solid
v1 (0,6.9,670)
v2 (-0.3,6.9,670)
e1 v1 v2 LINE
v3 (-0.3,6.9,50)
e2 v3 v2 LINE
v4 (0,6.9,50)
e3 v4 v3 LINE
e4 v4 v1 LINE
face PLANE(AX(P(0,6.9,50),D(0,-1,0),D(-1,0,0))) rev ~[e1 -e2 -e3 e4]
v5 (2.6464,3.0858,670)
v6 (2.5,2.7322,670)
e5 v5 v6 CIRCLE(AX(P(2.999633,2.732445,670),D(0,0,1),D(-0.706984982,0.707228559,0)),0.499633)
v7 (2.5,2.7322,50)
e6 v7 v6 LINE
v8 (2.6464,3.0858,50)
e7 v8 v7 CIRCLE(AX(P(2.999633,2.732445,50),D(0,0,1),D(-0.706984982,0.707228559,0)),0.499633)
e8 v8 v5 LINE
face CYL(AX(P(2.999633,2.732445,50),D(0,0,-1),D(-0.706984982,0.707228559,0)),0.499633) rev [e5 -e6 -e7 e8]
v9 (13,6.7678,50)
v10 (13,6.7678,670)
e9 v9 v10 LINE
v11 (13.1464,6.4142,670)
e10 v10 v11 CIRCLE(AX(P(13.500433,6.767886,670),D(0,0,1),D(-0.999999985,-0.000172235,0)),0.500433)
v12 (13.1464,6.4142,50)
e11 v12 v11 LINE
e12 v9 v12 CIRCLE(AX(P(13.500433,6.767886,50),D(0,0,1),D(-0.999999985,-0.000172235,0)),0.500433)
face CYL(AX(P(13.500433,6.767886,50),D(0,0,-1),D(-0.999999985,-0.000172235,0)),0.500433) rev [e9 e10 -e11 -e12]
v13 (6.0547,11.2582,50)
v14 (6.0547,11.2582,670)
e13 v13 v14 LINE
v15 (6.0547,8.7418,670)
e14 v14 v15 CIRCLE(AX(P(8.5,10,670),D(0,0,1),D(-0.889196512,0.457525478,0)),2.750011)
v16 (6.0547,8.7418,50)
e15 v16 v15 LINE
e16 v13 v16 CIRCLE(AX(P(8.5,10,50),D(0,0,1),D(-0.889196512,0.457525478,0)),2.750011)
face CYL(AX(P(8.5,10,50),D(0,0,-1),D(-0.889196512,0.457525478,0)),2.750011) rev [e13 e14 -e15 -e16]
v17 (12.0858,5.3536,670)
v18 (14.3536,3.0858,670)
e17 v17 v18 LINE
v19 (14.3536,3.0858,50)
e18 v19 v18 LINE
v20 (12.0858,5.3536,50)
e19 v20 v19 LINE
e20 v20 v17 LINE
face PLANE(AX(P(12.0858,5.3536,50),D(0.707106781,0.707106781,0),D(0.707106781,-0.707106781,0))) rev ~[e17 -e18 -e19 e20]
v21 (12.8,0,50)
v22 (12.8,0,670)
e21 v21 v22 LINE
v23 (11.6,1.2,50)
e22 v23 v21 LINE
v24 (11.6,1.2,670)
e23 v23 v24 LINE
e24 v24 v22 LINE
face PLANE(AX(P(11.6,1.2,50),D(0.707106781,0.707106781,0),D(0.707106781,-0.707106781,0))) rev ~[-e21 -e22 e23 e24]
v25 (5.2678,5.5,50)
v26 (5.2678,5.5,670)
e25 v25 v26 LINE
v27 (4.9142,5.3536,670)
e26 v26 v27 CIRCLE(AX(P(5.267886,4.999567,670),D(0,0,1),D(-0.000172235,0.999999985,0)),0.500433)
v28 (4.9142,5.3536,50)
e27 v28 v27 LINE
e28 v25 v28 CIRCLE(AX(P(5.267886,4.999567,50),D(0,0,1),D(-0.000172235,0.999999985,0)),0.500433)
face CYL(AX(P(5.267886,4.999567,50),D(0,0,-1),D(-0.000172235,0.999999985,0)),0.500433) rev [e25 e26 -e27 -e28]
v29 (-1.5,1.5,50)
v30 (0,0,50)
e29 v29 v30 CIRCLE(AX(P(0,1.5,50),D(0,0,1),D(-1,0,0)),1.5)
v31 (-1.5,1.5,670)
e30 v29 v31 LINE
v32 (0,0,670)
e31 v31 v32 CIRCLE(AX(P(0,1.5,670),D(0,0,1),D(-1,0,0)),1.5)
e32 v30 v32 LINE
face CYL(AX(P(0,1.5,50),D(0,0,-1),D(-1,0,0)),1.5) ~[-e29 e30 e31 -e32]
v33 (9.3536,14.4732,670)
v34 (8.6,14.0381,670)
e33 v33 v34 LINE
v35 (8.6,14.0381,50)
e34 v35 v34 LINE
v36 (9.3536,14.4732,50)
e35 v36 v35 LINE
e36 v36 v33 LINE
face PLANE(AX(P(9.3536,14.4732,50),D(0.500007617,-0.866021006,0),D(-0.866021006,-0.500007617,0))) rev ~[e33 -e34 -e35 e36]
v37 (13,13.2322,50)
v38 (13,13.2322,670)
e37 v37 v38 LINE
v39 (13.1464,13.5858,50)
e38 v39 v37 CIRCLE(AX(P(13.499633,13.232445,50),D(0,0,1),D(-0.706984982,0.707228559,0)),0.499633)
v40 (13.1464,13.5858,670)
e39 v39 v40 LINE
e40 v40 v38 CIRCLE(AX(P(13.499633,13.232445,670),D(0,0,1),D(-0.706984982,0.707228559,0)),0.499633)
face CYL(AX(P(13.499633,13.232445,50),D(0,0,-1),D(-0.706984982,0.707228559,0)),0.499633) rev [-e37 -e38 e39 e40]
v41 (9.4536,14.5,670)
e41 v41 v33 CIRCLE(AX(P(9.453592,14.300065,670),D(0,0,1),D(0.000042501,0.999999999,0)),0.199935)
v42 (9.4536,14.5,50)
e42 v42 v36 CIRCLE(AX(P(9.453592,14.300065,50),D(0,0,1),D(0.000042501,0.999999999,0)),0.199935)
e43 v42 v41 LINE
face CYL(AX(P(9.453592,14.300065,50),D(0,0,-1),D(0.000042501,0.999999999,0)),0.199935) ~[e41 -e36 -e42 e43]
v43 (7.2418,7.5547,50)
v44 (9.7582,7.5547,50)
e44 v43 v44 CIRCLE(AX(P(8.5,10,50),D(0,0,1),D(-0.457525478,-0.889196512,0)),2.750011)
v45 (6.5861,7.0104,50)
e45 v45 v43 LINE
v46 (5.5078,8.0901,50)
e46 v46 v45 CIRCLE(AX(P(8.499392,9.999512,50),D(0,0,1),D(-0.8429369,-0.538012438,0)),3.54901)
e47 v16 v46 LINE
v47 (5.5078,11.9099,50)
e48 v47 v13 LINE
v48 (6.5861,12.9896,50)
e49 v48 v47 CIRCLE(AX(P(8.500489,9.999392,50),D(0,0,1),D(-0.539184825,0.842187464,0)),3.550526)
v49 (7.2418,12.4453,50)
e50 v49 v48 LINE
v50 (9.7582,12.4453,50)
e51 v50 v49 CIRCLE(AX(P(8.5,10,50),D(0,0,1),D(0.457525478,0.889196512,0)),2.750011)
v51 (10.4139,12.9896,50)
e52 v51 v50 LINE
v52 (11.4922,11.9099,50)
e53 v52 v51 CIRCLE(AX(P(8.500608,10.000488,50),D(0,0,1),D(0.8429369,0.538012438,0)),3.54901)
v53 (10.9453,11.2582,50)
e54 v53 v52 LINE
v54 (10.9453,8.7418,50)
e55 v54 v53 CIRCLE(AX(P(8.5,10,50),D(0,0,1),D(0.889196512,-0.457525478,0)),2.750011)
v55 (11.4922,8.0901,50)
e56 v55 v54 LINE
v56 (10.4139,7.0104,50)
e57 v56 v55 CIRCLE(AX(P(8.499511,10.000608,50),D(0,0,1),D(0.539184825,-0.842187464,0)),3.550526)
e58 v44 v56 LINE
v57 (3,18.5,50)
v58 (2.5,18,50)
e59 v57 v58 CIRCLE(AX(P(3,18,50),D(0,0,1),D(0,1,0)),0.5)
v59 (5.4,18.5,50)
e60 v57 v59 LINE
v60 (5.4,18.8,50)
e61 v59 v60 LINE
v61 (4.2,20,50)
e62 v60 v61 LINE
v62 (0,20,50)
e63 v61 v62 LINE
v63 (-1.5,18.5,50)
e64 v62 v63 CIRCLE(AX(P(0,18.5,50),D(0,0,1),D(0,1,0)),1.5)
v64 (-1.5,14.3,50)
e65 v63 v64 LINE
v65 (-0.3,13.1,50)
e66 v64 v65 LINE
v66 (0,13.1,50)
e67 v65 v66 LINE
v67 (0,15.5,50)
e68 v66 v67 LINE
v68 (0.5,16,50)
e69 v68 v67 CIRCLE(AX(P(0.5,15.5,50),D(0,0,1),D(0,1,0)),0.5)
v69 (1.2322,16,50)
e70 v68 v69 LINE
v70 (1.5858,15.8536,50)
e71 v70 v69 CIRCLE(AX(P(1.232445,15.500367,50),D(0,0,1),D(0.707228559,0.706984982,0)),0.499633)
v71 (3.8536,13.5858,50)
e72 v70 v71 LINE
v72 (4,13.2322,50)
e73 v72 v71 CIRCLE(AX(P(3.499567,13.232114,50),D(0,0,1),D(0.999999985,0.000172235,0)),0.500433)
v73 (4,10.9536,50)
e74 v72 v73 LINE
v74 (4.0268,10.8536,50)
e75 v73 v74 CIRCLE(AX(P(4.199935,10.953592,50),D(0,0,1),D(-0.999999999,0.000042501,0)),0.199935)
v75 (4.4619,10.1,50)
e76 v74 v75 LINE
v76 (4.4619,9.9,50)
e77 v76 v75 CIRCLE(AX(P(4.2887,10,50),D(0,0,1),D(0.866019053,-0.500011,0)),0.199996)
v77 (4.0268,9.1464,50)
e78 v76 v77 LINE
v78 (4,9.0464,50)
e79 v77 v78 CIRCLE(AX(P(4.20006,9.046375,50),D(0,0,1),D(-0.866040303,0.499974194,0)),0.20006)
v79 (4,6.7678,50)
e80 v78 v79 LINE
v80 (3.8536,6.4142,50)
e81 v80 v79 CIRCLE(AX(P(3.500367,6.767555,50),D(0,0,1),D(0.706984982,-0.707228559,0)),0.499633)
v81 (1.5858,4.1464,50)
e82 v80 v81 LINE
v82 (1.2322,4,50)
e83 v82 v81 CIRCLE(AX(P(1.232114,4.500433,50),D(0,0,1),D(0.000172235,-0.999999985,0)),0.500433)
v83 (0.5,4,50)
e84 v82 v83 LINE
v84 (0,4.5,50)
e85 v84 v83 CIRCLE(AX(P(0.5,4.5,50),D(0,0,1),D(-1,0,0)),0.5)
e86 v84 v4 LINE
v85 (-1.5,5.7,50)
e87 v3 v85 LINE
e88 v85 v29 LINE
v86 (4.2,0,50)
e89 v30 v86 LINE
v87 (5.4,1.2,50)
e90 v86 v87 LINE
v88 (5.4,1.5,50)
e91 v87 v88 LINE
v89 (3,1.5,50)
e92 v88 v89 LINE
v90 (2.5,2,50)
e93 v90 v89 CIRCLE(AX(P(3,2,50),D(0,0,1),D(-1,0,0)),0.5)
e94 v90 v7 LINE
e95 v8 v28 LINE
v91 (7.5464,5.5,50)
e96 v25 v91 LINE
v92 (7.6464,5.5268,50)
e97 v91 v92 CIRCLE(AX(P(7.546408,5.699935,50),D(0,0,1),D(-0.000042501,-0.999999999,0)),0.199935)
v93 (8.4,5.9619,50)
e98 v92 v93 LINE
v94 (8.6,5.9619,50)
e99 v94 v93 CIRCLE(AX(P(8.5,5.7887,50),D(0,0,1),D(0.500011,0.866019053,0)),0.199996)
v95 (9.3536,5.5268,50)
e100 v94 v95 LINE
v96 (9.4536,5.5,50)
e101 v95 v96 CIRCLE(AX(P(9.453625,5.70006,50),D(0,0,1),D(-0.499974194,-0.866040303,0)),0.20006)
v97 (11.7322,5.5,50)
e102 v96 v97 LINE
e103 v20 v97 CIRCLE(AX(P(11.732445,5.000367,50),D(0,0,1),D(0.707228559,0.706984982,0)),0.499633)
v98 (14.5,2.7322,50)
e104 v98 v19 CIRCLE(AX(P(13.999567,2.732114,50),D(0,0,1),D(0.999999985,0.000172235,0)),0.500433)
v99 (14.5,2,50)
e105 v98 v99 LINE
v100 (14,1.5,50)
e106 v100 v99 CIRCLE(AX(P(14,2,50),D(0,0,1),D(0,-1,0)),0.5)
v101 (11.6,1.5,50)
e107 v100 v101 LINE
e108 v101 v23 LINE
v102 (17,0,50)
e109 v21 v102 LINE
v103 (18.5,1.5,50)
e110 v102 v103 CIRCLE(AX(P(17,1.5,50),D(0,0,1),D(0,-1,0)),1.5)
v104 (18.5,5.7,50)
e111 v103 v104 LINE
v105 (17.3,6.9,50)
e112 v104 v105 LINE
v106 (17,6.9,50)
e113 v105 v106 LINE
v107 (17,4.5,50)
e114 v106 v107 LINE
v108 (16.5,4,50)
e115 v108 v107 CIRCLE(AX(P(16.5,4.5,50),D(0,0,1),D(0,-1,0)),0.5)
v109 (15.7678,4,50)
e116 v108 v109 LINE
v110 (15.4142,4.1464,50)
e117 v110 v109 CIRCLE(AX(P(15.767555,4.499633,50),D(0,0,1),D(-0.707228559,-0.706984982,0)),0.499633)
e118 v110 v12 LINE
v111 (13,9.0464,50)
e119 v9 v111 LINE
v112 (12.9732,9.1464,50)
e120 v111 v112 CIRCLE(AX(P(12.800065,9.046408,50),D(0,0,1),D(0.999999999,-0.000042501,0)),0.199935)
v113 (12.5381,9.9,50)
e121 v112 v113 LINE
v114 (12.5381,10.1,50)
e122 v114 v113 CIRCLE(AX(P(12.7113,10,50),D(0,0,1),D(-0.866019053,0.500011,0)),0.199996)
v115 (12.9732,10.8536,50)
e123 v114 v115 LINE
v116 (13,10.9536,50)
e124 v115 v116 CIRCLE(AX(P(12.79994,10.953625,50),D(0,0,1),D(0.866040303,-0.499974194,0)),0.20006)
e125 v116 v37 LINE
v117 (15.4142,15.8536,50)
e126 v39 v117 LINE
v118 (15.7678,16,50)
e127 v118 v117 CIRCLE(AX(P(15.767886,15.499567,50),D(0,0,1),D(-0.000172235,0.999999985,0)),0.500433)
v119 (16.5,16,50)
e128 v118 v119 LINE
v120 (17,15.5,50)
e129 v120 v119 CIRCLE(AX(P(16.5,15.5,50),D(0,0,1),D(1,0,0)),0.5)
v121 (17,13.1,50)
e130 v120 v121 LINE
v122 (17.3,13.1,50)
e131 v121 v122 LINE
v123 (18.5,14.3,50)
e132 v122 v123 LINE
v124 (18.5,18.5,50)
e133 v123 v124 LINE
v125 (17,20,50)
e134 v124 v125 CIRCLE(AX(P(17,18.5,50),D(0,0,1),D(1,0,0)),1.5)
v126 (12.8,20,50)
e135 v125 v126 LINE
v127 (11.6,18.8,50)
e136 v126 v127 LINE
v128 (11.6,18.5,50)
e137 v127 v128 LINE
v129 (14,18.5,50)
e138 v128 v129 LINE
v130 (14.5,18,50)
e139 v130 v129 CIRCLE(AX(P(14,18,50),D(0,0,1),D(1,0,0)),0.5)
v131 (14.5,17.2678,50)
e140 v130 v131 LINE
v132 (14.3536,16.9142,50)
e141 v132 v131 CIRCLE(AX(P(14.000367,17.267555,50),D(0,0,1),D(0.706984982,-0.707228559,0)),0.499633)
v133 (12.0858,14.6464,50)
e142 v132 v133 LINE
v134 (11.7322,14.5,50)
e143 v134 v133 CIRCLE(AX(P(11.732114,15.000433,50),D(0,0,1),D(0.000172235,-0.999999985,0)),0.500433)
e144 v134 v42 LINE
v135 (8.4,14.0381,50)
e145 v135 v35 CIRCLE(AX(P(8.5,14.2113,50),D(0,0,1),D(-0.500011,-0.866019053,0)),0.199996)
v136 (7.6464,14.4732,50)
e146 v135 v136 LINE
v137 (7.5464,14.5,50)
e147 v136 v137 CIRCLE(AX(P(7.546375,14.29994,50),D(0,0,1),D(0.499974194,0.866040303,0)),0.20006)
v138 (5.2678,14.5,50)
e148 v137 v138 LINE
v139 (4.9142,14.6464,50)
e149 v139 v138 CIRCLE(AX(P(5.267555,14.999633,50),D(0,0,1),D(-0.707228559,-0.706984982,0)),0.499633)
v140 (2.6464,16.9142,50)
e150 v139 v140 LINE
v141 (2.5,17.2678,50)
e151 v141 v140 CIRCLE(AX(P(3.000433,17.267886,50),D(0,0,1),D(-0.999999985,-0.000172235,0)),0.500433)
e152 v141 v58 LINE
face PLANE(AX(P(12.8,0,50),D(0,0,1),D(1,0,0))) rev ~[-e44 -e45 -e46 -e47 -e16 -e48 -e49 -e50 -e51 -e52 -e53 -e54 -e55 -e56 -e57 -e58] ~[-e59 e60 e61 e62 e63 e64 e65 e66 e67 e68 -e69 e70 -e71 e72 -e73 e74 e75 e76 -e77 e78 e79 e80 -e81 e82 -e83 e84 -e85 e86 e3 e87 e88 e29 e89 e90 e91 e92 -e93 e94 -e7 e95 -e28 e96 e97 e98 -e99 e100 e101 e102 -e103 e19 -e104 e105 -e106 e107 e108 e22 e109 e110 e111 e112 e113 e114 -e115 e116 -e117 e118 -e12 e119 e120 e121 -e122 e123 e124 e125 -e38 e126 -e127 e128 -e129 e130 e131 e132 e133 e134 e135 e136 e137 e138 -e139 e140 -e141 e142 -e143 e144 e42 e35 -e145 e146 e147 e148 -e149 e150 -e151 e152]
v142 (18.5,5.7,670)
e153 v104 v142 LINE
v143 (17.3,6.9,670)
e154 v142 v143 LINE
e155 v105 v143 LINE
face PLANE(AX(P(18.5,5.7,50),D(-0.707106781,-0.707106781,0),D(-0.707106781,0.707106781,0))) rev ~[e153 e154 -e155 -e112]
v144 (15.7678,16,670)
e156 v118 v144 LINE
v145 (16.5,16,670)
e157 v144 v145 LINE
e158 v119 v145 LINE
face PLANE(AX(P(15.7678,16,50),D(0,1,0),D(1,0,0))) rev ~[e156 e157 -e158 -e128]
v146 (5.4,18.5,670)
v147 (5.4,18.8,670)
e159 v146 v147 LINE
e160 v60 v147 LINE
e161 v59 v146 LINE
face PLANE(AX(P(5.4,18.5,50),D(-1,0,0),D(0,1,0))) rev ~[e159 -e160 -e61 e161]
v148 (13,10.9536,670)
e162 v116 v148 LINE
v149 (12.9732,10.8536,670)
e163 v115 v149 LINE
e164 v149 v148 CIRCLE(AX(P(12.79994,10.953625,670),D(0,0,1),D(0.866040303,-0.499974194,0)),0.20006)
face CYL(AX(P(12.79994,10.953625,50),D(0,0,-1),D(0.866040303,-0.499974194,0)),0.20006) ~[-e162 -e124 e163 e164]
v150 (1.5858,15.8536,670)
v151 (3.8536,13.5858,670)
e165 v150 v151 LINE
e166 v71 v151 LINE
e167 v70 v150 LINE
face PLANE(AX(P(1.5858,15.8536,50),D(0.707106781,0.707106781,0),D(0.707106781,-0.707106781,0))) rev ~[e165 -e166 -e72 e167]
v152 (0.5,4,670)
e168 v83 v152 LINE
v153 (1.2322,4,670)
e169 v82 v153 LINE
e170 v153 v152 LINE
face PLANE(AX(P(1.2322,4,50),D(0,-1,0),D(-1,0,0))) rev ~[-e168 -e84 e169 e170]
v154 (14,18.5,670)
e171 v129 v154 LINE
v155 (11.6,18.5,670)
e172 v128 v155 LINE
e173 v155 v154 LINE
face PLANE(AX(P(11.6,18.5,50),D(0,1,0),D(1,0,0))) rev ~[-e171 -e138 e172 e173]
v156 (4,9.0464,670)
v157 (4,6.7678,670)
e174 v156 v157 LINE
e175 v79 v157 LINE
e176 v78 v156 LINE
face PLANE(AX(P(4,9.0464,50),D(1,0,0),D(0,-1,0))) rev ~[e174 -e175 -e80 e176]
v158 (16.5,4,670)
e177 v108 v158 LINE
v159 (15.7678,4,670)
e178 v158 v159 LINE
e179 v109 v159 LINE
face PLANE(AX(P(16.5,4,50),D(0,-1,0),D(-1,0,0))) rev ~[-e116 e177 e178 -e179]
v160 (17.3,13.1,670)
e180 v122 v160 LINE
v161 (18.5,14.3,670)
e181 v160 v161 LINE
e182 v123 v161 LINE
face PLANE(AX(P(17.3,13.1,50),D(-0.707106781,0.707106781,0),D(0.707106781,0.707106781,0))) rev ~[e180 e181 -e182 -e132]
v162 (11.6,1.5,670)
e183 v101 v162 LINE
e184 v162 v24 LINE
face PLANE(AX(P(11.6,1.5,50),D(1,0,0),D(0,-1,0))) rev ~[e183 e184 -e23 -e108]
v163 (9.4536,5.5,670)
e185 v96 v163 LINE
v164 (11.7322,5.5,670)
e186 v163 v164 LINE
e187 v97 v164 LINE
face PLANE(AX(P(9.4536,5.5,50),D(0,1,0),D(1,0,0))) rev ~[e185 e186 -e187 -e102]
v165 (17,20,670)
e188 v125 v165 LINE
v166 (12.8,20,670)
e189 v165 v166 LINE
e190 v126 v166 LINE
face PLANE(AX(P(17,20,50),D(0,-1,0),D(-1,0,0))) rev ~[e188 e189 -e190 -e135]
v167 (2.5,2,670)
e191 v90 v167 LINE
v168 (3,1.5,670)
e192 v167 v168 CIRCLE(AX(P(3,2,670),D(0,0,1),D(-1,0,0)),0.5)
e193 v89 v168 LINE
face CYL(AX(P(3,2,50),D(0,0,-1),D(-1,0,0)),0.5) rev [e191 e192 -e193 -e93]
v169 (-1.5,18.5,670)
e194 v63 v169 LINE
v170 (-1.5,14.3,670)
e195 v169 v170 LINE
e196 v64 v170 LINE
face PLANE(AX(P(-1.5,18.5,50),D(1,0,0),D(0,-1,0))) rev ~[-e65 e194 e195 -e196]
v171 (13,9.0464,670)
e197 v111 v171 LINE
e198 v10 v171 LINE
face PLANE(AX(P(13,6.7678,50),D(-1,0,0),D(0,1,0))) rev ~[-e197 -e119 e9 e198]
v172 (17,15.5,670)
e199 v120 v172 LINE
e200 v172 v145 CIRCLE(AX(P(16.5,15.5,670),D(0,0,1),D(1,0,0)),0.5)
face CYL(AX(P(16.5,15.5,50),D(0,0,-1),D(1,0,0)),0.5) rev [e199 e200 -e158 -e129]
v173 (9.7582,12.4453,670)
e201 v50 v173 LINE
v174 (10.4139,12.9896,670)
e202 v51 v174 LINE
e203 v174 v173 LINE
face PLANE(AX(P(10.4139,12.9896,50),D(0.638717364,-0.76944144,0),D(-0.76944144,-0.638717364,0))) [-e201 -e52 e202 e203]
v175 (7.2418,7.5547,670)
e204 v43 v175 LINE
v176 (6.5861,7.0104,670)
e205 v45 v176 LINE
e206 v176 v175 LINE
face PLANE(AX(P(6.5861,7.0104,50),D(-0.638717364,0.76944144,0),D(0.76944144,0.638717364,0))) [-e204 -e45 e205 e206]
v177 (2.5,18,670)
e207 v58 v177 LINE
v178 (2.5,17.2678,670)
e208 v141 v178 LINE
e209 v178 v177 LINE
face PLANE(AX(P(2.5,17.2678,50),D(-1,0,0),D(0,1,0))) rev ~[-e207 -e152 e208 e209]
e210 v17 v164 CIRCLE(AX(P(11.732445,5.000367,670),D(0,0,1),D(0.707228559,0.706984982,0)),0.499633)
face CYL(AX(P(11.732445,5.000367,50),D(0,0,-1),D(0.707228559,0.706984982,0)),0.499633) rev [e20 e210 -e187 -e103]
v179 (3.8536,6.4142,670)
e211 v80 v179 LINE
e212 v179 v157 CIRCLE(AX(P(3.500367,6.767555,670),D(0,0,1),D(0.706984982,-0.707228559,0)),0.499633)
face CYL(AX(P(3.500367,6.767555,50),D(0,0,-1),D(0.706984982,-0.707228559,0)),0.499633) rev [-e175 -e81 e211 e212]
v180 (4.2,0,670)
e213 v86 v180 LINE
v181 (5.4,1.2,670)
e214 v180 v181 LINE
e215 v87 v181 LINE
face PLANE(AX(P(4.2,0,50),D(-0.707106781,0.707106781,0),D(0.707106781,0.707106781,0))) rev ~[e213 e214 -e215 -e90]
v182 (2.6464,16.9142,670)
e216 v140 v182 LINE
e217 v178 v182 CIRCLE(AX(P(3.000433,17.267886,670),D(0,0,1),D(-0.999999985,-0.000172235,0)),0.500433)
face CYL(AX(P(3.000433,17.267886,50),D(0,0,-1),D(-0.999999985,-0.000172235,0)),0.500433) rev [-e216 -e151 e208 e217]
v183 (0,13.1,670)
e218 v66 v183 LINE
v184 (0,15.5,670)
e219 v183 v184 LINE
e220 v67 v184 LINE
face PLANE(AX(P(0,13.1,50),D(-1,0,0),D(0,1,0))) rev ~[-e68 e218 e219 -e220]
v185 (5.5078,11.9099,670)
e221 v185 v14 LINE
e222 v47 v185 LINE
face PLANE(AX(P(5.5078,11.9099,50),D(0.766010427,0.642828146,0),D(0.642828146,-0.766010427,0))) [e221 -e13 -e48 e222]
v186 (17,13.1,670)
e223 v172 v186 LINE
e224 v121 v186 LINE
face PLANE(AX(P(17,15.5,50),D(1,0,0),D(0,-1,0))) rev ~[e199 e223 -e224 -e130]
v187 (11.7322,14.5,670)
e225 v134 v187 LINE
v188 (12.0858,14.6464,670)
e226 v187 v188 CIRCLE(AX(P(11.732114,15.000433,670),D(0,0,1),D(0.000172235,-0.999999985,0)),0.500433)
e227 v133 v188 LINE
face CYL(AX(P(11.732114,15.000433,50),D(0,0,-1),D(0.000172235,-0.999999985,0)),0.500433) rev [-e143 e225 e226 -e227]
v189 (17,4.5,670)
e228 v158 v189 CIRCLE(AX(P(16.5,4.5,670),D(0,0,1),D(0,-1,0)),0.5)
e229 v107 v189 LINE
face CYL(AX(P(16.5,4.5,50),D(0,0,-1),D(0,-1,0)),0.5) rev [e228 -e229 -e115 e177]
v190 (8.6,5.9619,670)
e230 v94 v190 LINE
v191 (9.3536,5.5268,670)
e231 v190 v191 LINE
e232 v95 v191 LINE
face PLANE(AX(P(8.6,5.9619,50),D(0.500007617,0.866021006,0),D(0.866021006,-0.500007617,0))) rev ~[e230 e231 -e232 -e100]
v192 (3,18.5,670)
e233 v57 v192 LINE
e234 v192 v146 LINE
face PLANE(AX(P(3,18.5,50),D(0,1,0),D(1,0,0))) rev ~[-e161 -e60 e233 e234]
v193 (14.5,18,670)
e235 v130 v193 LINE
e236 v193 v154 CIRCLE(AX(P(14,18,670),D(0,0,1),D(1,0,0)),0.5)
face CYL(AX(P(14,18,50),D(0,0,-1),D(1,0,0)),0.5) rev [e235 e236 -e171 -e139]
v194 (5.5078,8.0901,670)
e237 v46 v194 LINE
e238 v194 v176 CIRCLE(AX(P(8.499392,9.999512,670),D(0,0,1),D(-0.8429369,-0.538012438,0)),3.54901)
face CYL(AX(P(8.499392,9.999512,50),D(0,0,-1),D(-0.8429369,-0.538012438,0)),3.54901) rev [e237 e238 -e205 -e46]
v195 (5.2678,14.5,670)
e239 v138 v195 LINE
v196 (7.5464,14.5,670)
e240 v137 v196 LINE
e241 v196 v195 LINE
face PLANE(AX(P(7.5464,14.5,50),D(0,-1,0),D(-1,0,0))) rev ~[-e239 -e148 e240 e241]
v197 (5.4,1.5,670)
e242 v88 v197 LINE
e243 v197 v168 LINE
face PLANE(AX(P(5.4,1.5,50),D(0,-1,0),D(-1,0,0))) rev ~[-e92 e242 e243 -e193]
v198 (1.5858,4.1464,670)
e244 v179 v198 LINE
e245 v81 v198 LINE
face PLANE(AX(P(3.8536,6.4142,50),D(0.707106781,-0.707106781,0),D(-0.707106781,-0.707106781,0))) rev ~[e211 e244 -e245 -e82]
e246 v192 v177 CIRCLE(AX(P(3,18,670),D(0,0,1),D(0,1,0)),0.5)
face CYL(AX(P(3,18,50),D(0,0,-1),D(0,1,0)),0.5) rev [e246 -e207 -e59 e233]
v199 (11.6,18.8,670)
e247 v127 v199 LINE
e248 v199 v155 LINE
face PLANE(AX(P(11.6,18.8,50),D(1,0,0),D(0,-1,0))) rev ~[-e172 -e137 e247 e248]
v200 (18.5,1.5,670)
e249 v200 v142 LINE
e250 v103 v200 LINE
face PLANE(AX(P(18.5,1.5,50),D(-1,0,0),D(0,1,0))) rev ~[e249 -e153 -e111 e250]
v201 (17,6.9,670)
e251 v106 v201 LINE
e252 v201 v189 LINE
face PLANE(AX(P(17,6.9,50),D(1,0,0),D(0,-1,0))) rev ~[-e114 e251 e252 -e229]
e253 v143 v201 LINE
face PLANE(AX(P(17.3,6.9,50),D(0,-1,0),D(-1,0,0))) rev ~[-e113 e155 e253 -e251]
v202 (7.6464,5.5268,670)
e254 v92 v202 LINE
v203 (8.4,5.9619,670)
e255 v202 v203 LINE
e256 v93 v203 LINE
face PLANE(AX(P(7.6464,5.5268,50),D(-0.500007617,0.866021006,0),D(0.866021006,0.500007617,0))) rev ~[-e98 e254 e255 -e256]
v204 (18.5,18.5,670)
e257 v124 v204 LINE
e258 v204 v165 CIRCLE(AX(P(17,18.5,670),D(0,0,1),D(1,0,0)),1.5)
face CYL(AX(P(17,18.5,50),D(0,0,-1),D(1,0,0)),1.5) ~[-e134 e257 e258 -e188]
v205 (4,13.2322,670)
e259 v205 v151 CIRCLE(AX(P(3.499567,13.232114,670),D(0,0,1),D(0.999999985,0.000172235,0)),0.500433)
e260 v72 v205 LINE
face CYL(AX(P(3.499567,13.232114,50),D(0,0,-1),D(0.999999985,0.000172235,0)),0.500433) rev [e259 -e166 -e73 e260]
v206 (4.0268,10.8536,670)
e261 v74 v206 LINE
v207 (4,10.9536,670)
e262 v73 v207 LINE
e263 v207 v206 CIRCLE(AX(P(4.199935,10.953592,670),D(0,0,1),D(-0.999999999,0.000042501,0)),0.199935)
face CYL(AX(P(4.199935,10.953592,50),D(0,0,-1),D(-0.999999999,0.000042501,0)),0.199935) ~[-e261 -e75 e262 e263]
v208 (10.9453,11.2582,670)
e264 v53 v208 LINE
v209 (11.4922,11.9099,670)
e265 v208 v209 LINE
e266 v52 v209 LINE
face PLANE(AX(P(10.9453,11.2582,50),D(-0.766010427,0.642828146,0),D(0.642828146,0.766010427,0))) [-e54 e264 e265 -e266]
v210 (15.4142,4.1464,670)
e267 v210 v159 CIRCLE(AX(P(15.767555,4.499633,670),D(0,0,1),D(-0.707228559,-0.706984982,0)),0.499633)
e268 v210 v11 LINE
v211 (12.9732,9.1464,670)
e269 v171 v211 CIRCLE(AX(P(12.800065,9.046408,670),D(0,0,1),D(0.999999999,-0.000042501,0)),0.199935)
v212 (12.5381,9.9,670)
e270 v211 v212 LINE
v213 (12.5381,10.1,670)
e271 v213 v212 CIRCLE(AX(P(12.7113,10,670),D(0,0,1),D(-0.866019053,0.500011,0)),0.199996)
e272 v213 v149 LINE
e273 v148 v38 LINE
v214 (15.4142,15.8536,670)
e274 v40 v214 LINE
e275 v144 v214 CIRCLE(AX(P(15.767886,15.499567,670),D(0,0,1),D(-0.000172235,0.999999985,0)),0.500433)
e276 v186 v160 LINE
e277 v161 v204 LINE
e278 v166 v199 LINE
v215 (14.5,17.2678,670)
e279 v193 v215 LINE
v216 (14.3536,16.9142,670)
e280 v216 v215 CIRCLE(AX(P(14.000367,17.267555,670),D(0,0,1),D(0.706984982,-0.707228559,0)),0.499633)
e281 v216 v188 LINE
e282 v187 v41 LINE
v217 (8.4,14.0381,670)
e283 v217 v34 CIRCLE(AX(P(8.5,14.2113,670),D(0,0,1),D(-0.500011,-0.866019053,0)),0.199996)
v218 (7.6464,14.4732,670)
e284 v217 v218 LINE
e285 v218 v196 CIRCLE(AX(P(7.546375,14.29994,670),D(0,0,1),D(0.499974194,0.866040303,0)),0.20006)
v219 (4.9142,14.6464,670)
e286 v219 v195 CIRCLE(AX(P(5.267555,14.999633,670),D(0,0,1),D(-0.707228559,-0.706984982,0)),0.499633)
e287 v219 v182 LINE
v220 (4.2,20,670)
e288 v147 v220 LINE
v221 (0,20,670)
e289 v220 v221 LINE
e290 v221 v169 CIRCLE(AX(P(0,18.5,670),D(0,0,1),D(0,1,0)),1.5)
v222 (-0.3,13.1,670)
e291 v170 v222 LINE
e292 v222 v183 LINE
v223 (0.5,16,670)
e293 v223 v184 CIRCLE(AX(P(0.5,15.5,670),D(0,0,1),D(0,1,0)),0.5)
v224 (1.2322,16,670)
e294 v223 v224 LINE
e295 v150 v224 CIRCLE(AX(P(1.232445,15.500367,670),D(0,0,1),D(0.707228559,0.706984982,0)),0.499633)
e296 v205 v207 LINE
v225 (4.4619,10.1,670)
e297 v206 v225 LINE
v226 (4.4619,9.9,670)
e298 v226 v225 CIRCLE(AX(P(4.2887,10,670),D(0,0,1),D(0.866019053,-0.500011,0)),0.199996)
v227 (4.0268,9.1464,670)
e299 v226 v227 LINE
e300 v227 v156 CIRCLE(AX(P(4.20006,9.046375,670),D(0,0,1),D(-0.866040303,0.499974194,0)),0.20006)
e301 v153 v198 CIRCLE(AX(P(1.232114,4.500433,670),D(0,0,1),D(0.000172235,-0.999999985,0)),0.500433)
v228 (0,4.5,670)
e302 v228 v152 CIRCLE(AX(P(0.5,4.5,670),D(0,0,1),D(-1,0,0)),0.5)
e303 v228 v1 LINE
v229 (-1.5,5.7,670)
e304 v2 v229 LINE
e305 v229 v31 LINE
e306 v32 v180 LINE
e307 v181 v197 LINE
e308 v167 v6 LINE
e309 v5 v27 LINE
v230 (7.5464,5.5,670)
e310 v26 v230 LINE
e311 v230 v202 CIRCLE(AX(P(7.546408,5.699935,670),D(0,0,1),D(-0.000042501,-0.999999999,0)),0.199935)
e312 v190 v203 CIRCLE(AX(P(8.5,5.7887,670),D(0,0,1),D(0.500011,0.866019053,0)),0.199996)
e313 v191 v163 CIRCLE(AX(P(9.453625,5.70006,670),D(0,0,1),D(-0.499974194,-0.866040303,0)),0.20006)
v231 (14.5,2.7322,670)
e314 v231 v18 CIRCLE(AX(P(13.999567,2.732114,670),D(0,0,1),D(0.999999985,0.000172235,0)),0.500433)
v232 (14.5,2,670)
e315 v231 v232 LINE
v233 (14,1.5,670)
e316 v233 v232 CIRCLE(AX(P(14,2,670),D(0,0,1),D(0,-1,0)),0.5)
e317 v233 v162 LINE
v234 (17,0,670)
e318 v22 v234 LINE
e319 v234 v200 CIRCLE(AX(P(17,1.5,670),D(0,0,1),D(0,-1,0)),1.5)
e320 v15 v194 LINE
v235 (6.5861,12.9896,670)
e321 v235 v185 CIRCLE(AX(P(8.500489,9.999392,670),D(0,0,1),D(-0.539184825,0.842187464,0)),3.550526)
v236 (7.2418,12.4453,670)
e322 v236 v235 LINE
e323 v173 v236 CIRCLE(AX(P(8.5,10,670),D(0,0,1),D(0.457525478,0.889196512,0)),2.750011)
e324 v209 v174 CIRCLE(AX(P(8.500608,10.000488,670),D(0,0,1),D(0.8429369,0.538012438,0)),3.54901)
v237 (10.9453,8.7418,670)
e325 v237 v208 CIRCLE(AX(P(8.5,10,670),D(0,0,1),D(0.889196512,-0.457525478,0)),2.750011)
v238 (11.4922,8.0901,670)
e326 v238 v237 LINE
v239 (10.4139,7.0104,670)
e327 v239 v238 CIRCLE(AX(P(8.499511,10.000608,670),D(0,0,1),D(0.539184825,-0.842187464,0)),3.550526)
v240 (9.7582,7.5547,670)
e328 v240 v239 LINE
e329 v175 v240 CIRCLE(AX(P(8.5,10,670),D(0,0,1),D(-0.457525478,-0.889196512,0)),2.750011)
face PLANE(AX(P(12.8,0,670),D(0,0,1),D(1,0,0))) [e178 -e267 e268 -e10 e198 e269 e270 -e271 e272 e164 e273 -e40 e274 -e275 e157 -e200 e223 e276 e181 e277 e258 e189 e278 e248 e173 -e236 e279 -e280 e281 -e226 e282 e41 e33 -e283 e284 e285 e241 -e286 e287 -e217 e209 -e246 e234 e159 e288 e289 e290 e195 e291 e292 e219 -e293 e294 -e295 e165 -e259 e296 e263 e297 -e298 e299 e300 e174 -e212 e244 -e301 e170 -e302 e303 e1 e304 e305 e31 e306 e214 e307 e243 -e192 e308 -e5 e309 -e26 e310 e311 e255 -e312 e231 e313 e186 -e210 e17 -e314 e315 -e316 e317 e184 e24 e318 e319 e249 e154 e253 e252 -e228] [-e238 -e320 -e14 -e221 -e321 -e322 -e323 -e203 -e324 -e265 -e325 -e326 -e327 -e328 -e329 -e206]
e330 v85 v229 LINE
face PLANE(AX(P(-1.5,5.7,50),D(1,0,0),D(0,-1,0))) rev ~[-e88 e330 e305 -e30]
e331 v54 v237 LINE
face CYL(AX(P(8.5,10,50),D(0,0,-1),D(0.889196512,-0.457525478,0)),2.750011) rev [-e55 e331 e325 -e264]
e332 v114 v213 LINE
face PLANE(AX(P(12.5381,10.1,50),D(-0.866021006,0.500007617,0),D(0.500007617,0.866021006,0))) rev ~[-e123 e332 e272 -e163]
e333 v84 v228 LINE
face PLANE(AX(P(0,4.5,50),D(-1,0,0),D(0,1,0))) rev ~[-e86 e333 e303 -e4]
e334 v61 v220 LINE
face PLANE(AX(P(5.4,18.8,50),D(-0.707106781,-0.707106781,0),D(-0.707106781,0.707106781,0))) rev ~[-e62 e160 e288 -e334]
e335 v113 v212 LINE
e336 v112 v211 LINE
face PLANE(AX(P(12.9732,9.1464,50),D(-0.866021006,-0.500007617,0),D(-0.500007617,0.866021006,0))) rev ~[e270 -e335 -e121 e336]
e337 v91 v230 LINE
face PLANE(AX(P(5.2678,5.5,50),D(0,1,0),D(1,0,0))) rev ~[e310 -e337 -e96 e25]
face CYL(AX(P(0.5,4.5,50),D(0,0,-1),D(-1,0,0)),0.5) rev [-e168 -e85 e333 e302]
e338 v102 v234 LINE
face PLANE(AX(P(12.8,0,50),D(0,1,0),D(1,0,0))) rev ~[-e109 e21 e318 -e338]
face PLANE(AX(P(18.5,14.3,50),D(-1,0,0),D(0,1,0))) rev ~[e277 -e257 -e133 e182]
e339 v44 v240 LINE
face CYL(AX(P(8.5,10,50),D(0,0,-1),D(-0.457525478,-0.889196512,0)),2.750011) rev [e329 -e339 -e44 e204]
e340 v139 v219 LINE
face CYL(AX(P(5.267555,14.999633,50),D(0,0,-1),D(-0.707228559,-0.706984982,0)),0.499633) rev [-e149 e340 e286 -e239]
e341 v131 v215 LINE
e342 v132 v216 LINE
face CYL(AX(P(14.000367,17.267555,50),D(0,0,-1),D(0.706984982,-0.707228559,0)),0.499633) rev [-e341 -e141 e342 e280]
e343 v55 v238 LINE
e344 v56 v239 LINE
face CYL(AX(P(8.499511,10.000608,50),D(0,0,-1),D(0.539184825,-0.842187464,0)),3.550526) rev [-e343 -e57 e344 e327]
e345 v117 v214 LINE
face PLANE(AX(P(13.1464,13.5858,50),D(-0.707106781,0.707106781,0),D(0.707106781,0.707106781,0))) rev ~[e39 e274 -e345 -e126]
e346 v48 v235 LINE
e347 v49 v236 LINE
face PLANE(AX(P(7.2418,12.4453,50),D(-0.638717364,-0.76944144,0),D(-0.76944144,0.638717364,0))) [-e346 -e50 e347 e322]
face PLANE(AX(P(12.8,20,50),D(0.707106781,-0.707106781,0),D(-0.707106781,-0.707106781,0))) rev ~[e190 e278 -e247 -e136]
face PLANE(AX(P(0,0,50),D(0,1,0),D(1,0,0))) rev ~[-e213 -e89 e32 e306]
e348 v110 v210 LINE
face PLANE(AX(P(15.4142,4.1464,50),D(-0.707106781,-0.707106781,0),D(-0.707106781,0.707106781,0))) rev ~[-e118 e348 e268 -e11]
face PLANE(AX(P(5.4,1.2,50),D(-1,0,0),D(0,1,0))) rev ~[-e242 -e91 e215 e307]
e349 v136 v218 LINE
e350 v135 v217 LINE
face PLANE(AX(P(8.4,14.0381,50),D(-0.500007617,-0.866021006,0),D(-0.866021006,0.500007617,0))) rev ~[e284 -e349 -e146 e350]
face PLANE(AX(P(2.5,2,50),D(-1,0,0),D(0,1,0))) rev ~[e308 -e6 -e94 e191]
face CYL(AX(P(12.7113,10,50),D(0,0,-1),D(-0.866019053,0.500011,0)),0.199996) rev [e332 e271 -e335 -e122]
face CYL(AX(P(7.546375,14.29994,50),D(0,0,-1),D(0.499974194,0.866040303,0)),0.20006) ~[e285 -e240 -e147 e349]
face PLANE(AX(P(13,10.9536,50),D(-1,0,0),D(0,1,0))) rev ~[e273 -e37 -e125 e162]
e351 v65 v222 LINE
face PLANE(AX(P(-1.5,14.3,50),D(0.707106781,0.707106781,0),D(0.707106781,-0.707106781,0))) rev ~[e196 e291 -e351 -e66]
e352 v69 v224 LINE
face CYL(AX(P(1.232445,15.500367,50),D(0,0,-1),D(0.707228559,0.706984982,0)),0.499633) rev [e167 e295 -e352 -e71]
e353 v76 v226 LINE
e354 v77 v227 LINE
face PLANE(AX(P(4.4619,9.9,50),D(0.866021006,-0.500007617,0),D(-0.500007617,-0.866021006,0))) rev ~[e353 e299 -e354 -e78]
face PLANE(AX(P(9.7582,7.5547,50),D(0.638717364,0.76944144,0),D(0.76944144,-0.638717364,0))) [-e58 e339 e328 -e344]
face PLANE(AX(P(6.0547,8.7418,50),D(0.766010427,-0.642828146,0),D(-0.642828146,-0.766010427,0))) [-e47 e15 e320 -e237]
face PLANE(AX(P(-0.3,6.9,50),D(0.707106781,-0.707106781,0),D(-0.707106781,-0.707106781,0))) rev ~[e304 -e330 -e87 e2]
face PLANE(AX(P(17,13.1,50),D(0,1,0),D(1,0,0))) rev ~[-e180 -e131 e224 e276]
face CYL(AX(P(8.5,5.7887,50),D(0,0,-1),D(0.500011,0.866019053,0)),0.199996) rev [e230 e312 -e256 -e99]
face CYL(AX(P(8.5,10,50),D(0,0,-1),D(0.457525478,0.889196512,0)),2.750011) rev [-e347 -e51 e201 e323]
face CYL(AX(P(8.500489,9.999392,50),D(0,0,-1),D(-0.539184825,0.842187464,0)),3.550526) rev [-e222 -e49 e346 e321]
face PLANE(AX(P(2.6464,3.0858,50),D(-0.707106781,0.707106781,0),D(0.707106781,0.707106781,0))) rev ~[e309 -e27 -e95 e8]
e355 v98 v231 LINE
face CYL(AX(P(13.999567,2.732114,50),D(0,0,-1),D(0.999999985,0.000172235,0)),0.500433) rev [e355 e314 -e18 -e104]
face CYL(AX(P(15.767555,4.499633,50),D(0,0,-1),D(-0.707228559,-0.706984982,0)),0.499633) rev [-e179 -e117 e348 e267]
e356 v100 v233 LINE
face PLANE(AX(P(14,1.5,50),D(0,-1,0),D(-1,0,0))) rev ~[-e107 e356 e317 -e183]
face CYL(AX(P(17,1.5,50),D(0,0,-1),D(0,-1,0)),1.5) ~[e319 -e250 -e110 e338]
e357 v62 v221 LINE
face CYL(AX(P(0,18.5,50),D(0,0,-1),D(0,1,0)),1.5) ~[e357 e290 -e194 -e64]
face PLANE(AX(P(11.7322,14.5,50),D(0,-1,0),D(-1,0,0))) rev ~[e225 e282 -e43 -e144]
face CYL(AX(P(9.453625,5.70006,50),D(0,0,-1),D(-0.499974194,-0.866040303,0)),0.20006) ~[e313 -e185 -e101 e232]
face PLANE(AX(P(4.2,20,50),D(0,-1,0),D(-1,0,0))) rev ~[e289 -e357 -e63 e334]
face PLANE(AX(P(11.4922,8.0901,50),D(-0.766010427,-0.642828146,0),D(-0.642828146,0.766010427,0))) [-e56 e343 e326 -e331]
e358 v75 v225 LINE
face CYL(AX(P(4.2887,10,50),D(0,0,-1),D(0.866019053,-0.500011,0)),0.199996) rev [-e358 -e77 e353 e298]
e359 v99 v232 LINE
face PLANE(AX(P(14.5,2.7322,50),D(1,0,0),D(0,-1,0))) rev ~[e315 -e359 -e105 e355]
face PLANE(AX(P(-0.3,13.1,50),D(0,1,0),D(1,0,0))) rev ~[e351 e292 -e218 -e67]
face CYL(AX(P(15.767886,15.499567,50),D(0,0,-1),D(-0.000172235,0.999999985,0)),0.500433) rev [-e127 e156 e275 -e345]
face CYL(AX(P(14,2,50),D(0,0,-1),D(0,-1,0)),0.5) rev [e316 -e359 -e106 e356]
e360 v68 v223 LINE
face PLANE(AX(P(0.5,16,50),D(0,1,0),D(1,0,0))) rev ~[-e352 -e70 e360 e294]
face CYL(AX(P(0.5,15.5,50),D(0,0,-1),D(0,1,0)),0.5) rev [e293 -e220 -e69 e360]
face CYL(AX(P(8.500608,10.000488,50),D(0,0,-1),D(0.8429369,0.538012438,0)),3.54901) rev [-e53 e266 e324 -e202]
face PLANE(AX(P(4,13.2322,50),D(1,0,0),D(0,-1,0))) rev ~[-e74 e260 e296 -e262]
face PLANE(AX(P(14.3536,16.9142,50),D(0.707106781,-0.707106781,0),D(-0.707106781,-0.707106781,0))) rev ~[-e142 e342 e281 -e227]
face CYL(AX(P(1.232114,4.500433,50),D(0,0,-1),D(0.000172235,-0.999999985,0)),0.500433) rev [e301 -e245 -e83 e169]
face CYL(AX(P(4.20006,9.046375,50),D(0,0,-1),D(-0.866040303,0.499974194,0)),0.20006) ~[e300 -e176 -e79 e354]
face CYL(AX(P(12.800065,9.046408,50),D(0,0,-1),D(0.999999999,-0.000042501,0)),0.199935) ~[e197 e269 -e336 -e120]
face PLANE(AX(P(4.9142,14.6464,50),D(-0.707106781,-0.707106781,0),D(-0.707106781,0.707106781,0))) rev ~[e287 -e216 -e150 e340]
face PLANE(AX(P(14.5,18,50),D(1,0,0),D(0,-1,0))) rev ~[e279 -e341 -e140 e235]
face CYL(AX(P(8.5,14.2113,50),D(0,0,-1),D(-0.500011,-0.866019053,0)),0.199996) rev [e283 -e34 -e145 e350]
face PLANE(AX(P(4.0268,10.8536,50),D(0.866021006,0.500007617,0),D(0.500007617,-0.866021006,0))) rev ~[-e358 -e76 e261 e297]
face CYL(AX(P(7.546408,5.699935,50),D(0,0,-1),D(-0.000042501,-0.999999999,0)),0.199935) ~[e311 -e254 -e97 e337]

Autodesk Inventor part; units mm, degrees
ref_plane "Work Plane5" through (12.8, 0, 50) normal (0, 0, 1) x (1, 0, 0)
sketch "Sketch" plane through (12.8, 0, 50) normal (0, 0, 1) x (1, 0, 0)
  arc A0 (1.7, 2.7322) -> (1.5536, 3.0858) centre (1.2, 2.7322) ccw
  line L0 (1.7, 2.7322) -> (1.7, 2)
  arc A1 (1.2, 1.5) -> (1.7, 2) centre (1.2, 2) ccw
  line L1 (1.2, 1.5) -> (-1.2, 1.5)
  line L2 (-1.2, 1.5) -> (-1.2, 1.2)
  line L3 (-1.2, 1.2) -> (0, 0)
  line L4 (0, 0) -> (4.2, 0)
  arc A2 (4.2, 0) -> (5.7, 1.5) centre (4.2, 1.5) ccw
  line L5 (5.7, 1.5) -> (5.7, 5.7)
  line L6 (5.7, 5.7) -> (4.5, 6.9)
  line L7 (4.5, 6.9) -> (4.2, 6.9)
  line L8 (4.2, 6.9) -> (4.2, 4.5)
  arc A3 (3.7, 4) -> (4.2, 4.5) centre (3.7, 4.5) ccw
  line L9 (3.7, 4) -> (2.9678, 4)
  arc A4 (2.6142, 4.1464) -> (2.9678, 4) centre (2.9678, 4.5) ccw
  line L10 (2.6142, 4.1464) -> (0.3464, 6.4142)
  arc A5 (0.2, 6.7678) -> (0.3464, 6.4142) centre (0.7, 6.7678) ccw
  line L11 (0.2, 6.7678) -> (0.2, 9.0464)
  arc A6 (0.2, 9.0464) -> (0.1732, 9.1464) centre (0, 9.0464) ccw
  line L12 (0.1732, 9.1464) -> (-0.2619, 9.9)
  arc A7 (-0.2619, 10.1) -> (-0.2619, 9.9) centre (-0.0887, 10) ccw
  line L13 (-0.2619, 10.1) -> (0.1732, 10.8536)
  arc A8 (0.1732, 10.8536) -> (0.2, 10.9536) centre (0, 10.9536) ccw
  line L14 (0.2, 10.9536) -> (0.2, 13.2322)
  arc A9 (0.3464, 13.5858) -> (0.2, 13.2322) centre (0.7, 13.2322) ccw
  line L15 (0.3464, 13.5858) -> (2.6142, 15.8536)
  arc A10 (2.9678, 16) -> (2.6142, 15.8536) centre (2.9678, 15.5) ccw
  line L16 (2.9678, 16) -> (3.7, 16)
  arc A11 (4.2, 15.5) -> (3.7, 16) centre (3.7, 15.5) ccw
  line L17 (4.2, 15.5) -> (4.2, 13.1)
  line L18 (4.2, 13.1) -> (4.5, 13.1)
  line L19 (4.5, 13.1) -> (5.7, 14.3)
  line L20 (5.7, 14.3) -> (5.7, 18.5)
  arc A12 (5.7, 18.5) -> (4.2, 20) centre (4.2, 18.5) ccw
  line L21 (4.2, 20) -> (0, 20)
  line L22 (0, 20) -> (-1.2, 18.8)
  line L23 (-1.2, 18.8) -> (-1.2, 18.5)
  line L24 (-1.2, 18.5) -> (1.2, 18.5)
  arc A13 (1.7, 18) -> (1.2, 18.5) centre (1.2, 18) ccw
  line L25 (1.7, 18) -> (1.7, 17.2678)
  arc A14 (1.5536, 16.9142) -> (1.7, 17.2678) centre (1.2, 17.2678) ccw
  line L26 (1.5536, 16.9142) -> (-0.7142, 14.6464)
  arc A15 (-1.0678, 14.5) -> (-0.7142, 14.6464) centre (-1.0678, 15) ccw
  line L27 (-1.0678, 14.5) -> (-3.3464, 14.5)
  arc A16 (-3.3464, 14.5) -> (-3.4464, 14.4732) centre (-3.3464, 14.3) ccw
  line L28 (-3.4464, 14.4732) -> (-4.2, 14.0381)
  arc A17 (-4.4, 14.0381) -> (-4.2, 14.0381) centre (-4.3, 14.2113) ccw
  line L29 (-4.4, 14.0381) -> (-5.1536, 14.4732)
  arc A18 (-5.1536, 14.4732) -> (-5.2536, 14.5) centre (-5.2536, 14.3) ccw
  line L30 (-5.2536, 14.5) -> (-7.5322, 14.5)
  arc A19 (-7.8858, 14.6464) -> (-7.5322, 14.5) centre (-7.5322, 15) ccw
  line L31 (-7.8858, 14.6464) -> (-10.1536, 16.9142)
  arc A20 (-10.3, 17.2678) -> (-10.1536, 16.9142) centre (-9.8, 17.2678) ccw
  line L32 (-10.3, 17.2678) -> (-10.3, 18)
  arc A21 (-9.8, 18.5) -> (-10.3, 18) centre (-9.8, 18) ccw
  line L33 (-9.8, 18.5) -> (-7.4, 18.5)
  line L34 (-7.4, 18.5) -> (-7.4, 18.8)
  line L35 (-7.4, 18.8) -> (-8.6, 20)
  line L36 (-8.6, 20) -> (-12.8, 20)
  arc A22 (-12.8, 20) -> (-14.3, 18.5) centre (-12.8, 18.5) ccw
  line L37 (-14.3, 18.5) -> (-14.3, 14.3)
  line L38 (-14.3, 14.3) -> (-13.1, 13.1)
  line L39 (-13.1, 13.1) -> (-12.8, 13.1)
  line L40 (-12.8, 13.1) -> (-12.8, 15.5)
  arc A23 (-12.3, 16) -> (-12.8, 15.5) centre (-12.3, 15.5) ccw
  line L41 (-12.3, 16) -> (-11.5678, 16)
  arc A24 (-11.2142, 15.8536) -> (-11.5678, 16) centre (-11.5678, 15.5) ccw
  line L42 (-11.2142, 15.8536) -> (-8.9464, 13.5858)
  arc A25 (-8.8, 13.2322) -> (-8.9464, 13.5858) centre (-9.3, 13.2322) ccw
  line L43 (-8.8, 13.2322) -> (-8.8, 10.9536)
  arc A26 (-8.8, 10.9536) -> (-8.7732, 10.8536) centre (-8.6, 10.9536) ccw
  line L44 (-8.7732, 10.8536) -> (-8.3381, 10.1)
  arc A27 (-8.3381, 9.9) -> (-8.3381, 10.1) centre (-8.5113, 10) ccw
  line L45 (-8.3381, 9.9) -> (-8.7732, 9.1464)
  arc A28 (-8.7732, 9.1464) -> (-8.8, 9.0464) centre (-8.6, 9.0464) ccw
  line L46 (-8.8, 9.0464) -> (-8.8, 6.7678)
  arc A29 (-8.9464, 6.4142) -> (-8.8, 6.7678) centre (-9.3, 6.7678) ccw
  line L47 (-8.9464, 6.4142) -> (-11.2142, 4.1464)
  arc A30 (-11.5678, 4) -> (-11.2142, 4.1464) centre (-11.5678, 4.5) ccw
  line L48 (-11.5678, 4) -> (-12.3, 4)
  arc A31 (-12.8, 4.5) -> (-12.3, 4) centre (-12.3, 4.5) ccw
  line L49 (-12.8, 4.5) -> (-12.8, 6.9)
  line L50 (-12.8, 6.9) -> (-13.1, 6.9)
  line L51 (-13.1, 6.9) -> (-14.3, 5.7)
  line L52 (-14.3, 5.7) -> (-14.3, 1.5)
  arc A32 (-14.3, 1.5) -> (-12.8, 0) centre (-12.8, 1.5) ccw
  line L53 (-12.8, 0) -> (-8.6, 0)
  line L54 (-8.6, 0) -> (-7.4, 1.2)
  line L55 (-7.4, 1.2) -> (-7.4, 1.5)
  line L56 (-7.4, 1.5) -> (-9.8, 1.5)
  arc A33 (-10.3, 2) -> (-9.8, 1.5) centre (-9.8, 2) ccw
  line L57 (-10.3, 2) -> (-10.3, 2.7322)
  arc A34 (-10.1536, 3.0858) -> (-10.3, 2.7322) centre (-9.8, 2.7322) ccw
  line L58 (-10.1536, 3.0858) -> (-7.8858, 5.3536)
  arc A35 (-7.5322, 5.5) -> (-7.8858, 5.3536) centre (-7.5322, 5) ccw
  line L59 (-7.5322, 5.5) -> (-5.2536, 5.5)
  arc A36 (-5.2536, 5.5) -> (-5.1536, 5.5268) centre (-5.2536, 5.7) ccw
  line L60 (-5.1536, 5.5268) -> (-4.4, 5.9619)
  arc A37 (-4.2, 5.9619) -> (-4.4, 5.9619) centre (-4.3, 5.7887) ccw
  line L61 (-4.2, 5.9619) -> (-3.4464, 5.5268)
  arc A38 (-3.4464, 5.5268) -> (-3.3464, 5.5) centre (-3.3464, 5.7) ccw
  line L62 (-3.3464, 5.5) -> (-1.0678, 5.5)
  arc A39 (-0.7142, 5.3536) -> (-1.0678, 5.5) centre (-1.0678, 5) ccw
  line L63 (-0.7142, 5.3536) -> (1.5536, 3.0858)
  line L64 (-6.7453, 8.7418) -> (-7.2922, 8.0901)
  arc A40 (-6.7453, 11.2582) -> (-6.7453, 8.7418) centre (-4.3, 10) ccw
  line L65 (-7.2922, 11.9099) -> (-6.7453, 11.2582)
  arc A41 (-6.2139, 12.9896) -> (-7.2922, 11.9099) centre (-4.3, 10) ccw
  line L66 (-5.5582, 12.4453) -> (-6.2139, 12.9896)
  arc A42 (-3.0418, 12.4453) -> (-5.5582, 12.4453) centre (-4.3, 10) ccw
  line L67 (-2.3861, 12.9896) -> (-3.0418, 12.4453)
  arc A43 (-1.3078, 11.9099) -> (-2.3861, 12.9896) centre (-4.3, 10) ccw
  line L68 (-1.8547, 11.2582) -> (-1.3078, 11.9099)
  arc A44 (-1.8547, 8.7418) -> (-1.8547, 11.2582) centre (-4.3, 10) ccw
  line L69 (-1.3078, 8.0901) -> (-1.8547, 8.7418)
  arc A45 (-2.3861, 7.0104) -> (-1.3078, 8.0901) centre (-4.3, 10) ccw
  line L70 (-3.0418, 7.5547) -> (-2.3861, 7.0104)
  arc A46 (-5.5582, 7.5547) -> (-3.0418, 7.5547) centre (-4.3, 10) ccw
  line L71 (-6.2139, 7.0104) -> (-5.5582, 7.5547)
  arc A47 (-7.2922, 8.0901) -> (-6.2139, 7.0104) centre (-4.3, 10) ccw
ref_plane "Start Plane" through (12.8, 0, 50) normal (0, 0, 1) x (1, 0, 0)
ref_plane "End Plane" through (12.8, 0, 670) normal (0, 0, 1) x (1, 0, 0)
extrude "Body" add sketch "Sketch" along normal up to surface (620 mm away) from surface at 0
sketch "Sketch8" plane through (12.8, 0, 50) normal (0, 0, 1) x (1, 0, 0)
  line L0 (0, 0) -> (10, 0)
ref_plane "Work Plane10" through (12.8, 0, 50) normal (0, -1, 0) x (1, 0, 0)
sketch "Sketch9" plane through (12.8, 0, 50) normal (0, -1, 0) x (1, 0, 0)
  line L0 (-2, 0) -> (12, 0)
  line L1 (-2, 620) -> (12, 620)
  dimension "d16" = 620
ref_plane "Work Plane11" through (8.5, 20, 670) normal (0, 0, 1) x (1, 0, 0)
split "Split1" plane through (8.5, 20, 670) removes the side toward (0, 0, 1)
ref_plane "Work Plane12" through (8.5, -714, 50) normal (0, 0, -1) x (-1, 0, 0)
split "Split2" plane through (8.5, -714, 50) removes the side toward (0, 0, -1)
equation "\"G_OFFSET_START\" = 0"
equation "\"G_OFFSET_END\" = 0"
equation "\"G_L\" = d16"
equation "\"G_OFFSET_START1\" = 0"
equation "\"G_OFFSET_END1\" = 0"
properties part number "2020 V-slot 100mm"
